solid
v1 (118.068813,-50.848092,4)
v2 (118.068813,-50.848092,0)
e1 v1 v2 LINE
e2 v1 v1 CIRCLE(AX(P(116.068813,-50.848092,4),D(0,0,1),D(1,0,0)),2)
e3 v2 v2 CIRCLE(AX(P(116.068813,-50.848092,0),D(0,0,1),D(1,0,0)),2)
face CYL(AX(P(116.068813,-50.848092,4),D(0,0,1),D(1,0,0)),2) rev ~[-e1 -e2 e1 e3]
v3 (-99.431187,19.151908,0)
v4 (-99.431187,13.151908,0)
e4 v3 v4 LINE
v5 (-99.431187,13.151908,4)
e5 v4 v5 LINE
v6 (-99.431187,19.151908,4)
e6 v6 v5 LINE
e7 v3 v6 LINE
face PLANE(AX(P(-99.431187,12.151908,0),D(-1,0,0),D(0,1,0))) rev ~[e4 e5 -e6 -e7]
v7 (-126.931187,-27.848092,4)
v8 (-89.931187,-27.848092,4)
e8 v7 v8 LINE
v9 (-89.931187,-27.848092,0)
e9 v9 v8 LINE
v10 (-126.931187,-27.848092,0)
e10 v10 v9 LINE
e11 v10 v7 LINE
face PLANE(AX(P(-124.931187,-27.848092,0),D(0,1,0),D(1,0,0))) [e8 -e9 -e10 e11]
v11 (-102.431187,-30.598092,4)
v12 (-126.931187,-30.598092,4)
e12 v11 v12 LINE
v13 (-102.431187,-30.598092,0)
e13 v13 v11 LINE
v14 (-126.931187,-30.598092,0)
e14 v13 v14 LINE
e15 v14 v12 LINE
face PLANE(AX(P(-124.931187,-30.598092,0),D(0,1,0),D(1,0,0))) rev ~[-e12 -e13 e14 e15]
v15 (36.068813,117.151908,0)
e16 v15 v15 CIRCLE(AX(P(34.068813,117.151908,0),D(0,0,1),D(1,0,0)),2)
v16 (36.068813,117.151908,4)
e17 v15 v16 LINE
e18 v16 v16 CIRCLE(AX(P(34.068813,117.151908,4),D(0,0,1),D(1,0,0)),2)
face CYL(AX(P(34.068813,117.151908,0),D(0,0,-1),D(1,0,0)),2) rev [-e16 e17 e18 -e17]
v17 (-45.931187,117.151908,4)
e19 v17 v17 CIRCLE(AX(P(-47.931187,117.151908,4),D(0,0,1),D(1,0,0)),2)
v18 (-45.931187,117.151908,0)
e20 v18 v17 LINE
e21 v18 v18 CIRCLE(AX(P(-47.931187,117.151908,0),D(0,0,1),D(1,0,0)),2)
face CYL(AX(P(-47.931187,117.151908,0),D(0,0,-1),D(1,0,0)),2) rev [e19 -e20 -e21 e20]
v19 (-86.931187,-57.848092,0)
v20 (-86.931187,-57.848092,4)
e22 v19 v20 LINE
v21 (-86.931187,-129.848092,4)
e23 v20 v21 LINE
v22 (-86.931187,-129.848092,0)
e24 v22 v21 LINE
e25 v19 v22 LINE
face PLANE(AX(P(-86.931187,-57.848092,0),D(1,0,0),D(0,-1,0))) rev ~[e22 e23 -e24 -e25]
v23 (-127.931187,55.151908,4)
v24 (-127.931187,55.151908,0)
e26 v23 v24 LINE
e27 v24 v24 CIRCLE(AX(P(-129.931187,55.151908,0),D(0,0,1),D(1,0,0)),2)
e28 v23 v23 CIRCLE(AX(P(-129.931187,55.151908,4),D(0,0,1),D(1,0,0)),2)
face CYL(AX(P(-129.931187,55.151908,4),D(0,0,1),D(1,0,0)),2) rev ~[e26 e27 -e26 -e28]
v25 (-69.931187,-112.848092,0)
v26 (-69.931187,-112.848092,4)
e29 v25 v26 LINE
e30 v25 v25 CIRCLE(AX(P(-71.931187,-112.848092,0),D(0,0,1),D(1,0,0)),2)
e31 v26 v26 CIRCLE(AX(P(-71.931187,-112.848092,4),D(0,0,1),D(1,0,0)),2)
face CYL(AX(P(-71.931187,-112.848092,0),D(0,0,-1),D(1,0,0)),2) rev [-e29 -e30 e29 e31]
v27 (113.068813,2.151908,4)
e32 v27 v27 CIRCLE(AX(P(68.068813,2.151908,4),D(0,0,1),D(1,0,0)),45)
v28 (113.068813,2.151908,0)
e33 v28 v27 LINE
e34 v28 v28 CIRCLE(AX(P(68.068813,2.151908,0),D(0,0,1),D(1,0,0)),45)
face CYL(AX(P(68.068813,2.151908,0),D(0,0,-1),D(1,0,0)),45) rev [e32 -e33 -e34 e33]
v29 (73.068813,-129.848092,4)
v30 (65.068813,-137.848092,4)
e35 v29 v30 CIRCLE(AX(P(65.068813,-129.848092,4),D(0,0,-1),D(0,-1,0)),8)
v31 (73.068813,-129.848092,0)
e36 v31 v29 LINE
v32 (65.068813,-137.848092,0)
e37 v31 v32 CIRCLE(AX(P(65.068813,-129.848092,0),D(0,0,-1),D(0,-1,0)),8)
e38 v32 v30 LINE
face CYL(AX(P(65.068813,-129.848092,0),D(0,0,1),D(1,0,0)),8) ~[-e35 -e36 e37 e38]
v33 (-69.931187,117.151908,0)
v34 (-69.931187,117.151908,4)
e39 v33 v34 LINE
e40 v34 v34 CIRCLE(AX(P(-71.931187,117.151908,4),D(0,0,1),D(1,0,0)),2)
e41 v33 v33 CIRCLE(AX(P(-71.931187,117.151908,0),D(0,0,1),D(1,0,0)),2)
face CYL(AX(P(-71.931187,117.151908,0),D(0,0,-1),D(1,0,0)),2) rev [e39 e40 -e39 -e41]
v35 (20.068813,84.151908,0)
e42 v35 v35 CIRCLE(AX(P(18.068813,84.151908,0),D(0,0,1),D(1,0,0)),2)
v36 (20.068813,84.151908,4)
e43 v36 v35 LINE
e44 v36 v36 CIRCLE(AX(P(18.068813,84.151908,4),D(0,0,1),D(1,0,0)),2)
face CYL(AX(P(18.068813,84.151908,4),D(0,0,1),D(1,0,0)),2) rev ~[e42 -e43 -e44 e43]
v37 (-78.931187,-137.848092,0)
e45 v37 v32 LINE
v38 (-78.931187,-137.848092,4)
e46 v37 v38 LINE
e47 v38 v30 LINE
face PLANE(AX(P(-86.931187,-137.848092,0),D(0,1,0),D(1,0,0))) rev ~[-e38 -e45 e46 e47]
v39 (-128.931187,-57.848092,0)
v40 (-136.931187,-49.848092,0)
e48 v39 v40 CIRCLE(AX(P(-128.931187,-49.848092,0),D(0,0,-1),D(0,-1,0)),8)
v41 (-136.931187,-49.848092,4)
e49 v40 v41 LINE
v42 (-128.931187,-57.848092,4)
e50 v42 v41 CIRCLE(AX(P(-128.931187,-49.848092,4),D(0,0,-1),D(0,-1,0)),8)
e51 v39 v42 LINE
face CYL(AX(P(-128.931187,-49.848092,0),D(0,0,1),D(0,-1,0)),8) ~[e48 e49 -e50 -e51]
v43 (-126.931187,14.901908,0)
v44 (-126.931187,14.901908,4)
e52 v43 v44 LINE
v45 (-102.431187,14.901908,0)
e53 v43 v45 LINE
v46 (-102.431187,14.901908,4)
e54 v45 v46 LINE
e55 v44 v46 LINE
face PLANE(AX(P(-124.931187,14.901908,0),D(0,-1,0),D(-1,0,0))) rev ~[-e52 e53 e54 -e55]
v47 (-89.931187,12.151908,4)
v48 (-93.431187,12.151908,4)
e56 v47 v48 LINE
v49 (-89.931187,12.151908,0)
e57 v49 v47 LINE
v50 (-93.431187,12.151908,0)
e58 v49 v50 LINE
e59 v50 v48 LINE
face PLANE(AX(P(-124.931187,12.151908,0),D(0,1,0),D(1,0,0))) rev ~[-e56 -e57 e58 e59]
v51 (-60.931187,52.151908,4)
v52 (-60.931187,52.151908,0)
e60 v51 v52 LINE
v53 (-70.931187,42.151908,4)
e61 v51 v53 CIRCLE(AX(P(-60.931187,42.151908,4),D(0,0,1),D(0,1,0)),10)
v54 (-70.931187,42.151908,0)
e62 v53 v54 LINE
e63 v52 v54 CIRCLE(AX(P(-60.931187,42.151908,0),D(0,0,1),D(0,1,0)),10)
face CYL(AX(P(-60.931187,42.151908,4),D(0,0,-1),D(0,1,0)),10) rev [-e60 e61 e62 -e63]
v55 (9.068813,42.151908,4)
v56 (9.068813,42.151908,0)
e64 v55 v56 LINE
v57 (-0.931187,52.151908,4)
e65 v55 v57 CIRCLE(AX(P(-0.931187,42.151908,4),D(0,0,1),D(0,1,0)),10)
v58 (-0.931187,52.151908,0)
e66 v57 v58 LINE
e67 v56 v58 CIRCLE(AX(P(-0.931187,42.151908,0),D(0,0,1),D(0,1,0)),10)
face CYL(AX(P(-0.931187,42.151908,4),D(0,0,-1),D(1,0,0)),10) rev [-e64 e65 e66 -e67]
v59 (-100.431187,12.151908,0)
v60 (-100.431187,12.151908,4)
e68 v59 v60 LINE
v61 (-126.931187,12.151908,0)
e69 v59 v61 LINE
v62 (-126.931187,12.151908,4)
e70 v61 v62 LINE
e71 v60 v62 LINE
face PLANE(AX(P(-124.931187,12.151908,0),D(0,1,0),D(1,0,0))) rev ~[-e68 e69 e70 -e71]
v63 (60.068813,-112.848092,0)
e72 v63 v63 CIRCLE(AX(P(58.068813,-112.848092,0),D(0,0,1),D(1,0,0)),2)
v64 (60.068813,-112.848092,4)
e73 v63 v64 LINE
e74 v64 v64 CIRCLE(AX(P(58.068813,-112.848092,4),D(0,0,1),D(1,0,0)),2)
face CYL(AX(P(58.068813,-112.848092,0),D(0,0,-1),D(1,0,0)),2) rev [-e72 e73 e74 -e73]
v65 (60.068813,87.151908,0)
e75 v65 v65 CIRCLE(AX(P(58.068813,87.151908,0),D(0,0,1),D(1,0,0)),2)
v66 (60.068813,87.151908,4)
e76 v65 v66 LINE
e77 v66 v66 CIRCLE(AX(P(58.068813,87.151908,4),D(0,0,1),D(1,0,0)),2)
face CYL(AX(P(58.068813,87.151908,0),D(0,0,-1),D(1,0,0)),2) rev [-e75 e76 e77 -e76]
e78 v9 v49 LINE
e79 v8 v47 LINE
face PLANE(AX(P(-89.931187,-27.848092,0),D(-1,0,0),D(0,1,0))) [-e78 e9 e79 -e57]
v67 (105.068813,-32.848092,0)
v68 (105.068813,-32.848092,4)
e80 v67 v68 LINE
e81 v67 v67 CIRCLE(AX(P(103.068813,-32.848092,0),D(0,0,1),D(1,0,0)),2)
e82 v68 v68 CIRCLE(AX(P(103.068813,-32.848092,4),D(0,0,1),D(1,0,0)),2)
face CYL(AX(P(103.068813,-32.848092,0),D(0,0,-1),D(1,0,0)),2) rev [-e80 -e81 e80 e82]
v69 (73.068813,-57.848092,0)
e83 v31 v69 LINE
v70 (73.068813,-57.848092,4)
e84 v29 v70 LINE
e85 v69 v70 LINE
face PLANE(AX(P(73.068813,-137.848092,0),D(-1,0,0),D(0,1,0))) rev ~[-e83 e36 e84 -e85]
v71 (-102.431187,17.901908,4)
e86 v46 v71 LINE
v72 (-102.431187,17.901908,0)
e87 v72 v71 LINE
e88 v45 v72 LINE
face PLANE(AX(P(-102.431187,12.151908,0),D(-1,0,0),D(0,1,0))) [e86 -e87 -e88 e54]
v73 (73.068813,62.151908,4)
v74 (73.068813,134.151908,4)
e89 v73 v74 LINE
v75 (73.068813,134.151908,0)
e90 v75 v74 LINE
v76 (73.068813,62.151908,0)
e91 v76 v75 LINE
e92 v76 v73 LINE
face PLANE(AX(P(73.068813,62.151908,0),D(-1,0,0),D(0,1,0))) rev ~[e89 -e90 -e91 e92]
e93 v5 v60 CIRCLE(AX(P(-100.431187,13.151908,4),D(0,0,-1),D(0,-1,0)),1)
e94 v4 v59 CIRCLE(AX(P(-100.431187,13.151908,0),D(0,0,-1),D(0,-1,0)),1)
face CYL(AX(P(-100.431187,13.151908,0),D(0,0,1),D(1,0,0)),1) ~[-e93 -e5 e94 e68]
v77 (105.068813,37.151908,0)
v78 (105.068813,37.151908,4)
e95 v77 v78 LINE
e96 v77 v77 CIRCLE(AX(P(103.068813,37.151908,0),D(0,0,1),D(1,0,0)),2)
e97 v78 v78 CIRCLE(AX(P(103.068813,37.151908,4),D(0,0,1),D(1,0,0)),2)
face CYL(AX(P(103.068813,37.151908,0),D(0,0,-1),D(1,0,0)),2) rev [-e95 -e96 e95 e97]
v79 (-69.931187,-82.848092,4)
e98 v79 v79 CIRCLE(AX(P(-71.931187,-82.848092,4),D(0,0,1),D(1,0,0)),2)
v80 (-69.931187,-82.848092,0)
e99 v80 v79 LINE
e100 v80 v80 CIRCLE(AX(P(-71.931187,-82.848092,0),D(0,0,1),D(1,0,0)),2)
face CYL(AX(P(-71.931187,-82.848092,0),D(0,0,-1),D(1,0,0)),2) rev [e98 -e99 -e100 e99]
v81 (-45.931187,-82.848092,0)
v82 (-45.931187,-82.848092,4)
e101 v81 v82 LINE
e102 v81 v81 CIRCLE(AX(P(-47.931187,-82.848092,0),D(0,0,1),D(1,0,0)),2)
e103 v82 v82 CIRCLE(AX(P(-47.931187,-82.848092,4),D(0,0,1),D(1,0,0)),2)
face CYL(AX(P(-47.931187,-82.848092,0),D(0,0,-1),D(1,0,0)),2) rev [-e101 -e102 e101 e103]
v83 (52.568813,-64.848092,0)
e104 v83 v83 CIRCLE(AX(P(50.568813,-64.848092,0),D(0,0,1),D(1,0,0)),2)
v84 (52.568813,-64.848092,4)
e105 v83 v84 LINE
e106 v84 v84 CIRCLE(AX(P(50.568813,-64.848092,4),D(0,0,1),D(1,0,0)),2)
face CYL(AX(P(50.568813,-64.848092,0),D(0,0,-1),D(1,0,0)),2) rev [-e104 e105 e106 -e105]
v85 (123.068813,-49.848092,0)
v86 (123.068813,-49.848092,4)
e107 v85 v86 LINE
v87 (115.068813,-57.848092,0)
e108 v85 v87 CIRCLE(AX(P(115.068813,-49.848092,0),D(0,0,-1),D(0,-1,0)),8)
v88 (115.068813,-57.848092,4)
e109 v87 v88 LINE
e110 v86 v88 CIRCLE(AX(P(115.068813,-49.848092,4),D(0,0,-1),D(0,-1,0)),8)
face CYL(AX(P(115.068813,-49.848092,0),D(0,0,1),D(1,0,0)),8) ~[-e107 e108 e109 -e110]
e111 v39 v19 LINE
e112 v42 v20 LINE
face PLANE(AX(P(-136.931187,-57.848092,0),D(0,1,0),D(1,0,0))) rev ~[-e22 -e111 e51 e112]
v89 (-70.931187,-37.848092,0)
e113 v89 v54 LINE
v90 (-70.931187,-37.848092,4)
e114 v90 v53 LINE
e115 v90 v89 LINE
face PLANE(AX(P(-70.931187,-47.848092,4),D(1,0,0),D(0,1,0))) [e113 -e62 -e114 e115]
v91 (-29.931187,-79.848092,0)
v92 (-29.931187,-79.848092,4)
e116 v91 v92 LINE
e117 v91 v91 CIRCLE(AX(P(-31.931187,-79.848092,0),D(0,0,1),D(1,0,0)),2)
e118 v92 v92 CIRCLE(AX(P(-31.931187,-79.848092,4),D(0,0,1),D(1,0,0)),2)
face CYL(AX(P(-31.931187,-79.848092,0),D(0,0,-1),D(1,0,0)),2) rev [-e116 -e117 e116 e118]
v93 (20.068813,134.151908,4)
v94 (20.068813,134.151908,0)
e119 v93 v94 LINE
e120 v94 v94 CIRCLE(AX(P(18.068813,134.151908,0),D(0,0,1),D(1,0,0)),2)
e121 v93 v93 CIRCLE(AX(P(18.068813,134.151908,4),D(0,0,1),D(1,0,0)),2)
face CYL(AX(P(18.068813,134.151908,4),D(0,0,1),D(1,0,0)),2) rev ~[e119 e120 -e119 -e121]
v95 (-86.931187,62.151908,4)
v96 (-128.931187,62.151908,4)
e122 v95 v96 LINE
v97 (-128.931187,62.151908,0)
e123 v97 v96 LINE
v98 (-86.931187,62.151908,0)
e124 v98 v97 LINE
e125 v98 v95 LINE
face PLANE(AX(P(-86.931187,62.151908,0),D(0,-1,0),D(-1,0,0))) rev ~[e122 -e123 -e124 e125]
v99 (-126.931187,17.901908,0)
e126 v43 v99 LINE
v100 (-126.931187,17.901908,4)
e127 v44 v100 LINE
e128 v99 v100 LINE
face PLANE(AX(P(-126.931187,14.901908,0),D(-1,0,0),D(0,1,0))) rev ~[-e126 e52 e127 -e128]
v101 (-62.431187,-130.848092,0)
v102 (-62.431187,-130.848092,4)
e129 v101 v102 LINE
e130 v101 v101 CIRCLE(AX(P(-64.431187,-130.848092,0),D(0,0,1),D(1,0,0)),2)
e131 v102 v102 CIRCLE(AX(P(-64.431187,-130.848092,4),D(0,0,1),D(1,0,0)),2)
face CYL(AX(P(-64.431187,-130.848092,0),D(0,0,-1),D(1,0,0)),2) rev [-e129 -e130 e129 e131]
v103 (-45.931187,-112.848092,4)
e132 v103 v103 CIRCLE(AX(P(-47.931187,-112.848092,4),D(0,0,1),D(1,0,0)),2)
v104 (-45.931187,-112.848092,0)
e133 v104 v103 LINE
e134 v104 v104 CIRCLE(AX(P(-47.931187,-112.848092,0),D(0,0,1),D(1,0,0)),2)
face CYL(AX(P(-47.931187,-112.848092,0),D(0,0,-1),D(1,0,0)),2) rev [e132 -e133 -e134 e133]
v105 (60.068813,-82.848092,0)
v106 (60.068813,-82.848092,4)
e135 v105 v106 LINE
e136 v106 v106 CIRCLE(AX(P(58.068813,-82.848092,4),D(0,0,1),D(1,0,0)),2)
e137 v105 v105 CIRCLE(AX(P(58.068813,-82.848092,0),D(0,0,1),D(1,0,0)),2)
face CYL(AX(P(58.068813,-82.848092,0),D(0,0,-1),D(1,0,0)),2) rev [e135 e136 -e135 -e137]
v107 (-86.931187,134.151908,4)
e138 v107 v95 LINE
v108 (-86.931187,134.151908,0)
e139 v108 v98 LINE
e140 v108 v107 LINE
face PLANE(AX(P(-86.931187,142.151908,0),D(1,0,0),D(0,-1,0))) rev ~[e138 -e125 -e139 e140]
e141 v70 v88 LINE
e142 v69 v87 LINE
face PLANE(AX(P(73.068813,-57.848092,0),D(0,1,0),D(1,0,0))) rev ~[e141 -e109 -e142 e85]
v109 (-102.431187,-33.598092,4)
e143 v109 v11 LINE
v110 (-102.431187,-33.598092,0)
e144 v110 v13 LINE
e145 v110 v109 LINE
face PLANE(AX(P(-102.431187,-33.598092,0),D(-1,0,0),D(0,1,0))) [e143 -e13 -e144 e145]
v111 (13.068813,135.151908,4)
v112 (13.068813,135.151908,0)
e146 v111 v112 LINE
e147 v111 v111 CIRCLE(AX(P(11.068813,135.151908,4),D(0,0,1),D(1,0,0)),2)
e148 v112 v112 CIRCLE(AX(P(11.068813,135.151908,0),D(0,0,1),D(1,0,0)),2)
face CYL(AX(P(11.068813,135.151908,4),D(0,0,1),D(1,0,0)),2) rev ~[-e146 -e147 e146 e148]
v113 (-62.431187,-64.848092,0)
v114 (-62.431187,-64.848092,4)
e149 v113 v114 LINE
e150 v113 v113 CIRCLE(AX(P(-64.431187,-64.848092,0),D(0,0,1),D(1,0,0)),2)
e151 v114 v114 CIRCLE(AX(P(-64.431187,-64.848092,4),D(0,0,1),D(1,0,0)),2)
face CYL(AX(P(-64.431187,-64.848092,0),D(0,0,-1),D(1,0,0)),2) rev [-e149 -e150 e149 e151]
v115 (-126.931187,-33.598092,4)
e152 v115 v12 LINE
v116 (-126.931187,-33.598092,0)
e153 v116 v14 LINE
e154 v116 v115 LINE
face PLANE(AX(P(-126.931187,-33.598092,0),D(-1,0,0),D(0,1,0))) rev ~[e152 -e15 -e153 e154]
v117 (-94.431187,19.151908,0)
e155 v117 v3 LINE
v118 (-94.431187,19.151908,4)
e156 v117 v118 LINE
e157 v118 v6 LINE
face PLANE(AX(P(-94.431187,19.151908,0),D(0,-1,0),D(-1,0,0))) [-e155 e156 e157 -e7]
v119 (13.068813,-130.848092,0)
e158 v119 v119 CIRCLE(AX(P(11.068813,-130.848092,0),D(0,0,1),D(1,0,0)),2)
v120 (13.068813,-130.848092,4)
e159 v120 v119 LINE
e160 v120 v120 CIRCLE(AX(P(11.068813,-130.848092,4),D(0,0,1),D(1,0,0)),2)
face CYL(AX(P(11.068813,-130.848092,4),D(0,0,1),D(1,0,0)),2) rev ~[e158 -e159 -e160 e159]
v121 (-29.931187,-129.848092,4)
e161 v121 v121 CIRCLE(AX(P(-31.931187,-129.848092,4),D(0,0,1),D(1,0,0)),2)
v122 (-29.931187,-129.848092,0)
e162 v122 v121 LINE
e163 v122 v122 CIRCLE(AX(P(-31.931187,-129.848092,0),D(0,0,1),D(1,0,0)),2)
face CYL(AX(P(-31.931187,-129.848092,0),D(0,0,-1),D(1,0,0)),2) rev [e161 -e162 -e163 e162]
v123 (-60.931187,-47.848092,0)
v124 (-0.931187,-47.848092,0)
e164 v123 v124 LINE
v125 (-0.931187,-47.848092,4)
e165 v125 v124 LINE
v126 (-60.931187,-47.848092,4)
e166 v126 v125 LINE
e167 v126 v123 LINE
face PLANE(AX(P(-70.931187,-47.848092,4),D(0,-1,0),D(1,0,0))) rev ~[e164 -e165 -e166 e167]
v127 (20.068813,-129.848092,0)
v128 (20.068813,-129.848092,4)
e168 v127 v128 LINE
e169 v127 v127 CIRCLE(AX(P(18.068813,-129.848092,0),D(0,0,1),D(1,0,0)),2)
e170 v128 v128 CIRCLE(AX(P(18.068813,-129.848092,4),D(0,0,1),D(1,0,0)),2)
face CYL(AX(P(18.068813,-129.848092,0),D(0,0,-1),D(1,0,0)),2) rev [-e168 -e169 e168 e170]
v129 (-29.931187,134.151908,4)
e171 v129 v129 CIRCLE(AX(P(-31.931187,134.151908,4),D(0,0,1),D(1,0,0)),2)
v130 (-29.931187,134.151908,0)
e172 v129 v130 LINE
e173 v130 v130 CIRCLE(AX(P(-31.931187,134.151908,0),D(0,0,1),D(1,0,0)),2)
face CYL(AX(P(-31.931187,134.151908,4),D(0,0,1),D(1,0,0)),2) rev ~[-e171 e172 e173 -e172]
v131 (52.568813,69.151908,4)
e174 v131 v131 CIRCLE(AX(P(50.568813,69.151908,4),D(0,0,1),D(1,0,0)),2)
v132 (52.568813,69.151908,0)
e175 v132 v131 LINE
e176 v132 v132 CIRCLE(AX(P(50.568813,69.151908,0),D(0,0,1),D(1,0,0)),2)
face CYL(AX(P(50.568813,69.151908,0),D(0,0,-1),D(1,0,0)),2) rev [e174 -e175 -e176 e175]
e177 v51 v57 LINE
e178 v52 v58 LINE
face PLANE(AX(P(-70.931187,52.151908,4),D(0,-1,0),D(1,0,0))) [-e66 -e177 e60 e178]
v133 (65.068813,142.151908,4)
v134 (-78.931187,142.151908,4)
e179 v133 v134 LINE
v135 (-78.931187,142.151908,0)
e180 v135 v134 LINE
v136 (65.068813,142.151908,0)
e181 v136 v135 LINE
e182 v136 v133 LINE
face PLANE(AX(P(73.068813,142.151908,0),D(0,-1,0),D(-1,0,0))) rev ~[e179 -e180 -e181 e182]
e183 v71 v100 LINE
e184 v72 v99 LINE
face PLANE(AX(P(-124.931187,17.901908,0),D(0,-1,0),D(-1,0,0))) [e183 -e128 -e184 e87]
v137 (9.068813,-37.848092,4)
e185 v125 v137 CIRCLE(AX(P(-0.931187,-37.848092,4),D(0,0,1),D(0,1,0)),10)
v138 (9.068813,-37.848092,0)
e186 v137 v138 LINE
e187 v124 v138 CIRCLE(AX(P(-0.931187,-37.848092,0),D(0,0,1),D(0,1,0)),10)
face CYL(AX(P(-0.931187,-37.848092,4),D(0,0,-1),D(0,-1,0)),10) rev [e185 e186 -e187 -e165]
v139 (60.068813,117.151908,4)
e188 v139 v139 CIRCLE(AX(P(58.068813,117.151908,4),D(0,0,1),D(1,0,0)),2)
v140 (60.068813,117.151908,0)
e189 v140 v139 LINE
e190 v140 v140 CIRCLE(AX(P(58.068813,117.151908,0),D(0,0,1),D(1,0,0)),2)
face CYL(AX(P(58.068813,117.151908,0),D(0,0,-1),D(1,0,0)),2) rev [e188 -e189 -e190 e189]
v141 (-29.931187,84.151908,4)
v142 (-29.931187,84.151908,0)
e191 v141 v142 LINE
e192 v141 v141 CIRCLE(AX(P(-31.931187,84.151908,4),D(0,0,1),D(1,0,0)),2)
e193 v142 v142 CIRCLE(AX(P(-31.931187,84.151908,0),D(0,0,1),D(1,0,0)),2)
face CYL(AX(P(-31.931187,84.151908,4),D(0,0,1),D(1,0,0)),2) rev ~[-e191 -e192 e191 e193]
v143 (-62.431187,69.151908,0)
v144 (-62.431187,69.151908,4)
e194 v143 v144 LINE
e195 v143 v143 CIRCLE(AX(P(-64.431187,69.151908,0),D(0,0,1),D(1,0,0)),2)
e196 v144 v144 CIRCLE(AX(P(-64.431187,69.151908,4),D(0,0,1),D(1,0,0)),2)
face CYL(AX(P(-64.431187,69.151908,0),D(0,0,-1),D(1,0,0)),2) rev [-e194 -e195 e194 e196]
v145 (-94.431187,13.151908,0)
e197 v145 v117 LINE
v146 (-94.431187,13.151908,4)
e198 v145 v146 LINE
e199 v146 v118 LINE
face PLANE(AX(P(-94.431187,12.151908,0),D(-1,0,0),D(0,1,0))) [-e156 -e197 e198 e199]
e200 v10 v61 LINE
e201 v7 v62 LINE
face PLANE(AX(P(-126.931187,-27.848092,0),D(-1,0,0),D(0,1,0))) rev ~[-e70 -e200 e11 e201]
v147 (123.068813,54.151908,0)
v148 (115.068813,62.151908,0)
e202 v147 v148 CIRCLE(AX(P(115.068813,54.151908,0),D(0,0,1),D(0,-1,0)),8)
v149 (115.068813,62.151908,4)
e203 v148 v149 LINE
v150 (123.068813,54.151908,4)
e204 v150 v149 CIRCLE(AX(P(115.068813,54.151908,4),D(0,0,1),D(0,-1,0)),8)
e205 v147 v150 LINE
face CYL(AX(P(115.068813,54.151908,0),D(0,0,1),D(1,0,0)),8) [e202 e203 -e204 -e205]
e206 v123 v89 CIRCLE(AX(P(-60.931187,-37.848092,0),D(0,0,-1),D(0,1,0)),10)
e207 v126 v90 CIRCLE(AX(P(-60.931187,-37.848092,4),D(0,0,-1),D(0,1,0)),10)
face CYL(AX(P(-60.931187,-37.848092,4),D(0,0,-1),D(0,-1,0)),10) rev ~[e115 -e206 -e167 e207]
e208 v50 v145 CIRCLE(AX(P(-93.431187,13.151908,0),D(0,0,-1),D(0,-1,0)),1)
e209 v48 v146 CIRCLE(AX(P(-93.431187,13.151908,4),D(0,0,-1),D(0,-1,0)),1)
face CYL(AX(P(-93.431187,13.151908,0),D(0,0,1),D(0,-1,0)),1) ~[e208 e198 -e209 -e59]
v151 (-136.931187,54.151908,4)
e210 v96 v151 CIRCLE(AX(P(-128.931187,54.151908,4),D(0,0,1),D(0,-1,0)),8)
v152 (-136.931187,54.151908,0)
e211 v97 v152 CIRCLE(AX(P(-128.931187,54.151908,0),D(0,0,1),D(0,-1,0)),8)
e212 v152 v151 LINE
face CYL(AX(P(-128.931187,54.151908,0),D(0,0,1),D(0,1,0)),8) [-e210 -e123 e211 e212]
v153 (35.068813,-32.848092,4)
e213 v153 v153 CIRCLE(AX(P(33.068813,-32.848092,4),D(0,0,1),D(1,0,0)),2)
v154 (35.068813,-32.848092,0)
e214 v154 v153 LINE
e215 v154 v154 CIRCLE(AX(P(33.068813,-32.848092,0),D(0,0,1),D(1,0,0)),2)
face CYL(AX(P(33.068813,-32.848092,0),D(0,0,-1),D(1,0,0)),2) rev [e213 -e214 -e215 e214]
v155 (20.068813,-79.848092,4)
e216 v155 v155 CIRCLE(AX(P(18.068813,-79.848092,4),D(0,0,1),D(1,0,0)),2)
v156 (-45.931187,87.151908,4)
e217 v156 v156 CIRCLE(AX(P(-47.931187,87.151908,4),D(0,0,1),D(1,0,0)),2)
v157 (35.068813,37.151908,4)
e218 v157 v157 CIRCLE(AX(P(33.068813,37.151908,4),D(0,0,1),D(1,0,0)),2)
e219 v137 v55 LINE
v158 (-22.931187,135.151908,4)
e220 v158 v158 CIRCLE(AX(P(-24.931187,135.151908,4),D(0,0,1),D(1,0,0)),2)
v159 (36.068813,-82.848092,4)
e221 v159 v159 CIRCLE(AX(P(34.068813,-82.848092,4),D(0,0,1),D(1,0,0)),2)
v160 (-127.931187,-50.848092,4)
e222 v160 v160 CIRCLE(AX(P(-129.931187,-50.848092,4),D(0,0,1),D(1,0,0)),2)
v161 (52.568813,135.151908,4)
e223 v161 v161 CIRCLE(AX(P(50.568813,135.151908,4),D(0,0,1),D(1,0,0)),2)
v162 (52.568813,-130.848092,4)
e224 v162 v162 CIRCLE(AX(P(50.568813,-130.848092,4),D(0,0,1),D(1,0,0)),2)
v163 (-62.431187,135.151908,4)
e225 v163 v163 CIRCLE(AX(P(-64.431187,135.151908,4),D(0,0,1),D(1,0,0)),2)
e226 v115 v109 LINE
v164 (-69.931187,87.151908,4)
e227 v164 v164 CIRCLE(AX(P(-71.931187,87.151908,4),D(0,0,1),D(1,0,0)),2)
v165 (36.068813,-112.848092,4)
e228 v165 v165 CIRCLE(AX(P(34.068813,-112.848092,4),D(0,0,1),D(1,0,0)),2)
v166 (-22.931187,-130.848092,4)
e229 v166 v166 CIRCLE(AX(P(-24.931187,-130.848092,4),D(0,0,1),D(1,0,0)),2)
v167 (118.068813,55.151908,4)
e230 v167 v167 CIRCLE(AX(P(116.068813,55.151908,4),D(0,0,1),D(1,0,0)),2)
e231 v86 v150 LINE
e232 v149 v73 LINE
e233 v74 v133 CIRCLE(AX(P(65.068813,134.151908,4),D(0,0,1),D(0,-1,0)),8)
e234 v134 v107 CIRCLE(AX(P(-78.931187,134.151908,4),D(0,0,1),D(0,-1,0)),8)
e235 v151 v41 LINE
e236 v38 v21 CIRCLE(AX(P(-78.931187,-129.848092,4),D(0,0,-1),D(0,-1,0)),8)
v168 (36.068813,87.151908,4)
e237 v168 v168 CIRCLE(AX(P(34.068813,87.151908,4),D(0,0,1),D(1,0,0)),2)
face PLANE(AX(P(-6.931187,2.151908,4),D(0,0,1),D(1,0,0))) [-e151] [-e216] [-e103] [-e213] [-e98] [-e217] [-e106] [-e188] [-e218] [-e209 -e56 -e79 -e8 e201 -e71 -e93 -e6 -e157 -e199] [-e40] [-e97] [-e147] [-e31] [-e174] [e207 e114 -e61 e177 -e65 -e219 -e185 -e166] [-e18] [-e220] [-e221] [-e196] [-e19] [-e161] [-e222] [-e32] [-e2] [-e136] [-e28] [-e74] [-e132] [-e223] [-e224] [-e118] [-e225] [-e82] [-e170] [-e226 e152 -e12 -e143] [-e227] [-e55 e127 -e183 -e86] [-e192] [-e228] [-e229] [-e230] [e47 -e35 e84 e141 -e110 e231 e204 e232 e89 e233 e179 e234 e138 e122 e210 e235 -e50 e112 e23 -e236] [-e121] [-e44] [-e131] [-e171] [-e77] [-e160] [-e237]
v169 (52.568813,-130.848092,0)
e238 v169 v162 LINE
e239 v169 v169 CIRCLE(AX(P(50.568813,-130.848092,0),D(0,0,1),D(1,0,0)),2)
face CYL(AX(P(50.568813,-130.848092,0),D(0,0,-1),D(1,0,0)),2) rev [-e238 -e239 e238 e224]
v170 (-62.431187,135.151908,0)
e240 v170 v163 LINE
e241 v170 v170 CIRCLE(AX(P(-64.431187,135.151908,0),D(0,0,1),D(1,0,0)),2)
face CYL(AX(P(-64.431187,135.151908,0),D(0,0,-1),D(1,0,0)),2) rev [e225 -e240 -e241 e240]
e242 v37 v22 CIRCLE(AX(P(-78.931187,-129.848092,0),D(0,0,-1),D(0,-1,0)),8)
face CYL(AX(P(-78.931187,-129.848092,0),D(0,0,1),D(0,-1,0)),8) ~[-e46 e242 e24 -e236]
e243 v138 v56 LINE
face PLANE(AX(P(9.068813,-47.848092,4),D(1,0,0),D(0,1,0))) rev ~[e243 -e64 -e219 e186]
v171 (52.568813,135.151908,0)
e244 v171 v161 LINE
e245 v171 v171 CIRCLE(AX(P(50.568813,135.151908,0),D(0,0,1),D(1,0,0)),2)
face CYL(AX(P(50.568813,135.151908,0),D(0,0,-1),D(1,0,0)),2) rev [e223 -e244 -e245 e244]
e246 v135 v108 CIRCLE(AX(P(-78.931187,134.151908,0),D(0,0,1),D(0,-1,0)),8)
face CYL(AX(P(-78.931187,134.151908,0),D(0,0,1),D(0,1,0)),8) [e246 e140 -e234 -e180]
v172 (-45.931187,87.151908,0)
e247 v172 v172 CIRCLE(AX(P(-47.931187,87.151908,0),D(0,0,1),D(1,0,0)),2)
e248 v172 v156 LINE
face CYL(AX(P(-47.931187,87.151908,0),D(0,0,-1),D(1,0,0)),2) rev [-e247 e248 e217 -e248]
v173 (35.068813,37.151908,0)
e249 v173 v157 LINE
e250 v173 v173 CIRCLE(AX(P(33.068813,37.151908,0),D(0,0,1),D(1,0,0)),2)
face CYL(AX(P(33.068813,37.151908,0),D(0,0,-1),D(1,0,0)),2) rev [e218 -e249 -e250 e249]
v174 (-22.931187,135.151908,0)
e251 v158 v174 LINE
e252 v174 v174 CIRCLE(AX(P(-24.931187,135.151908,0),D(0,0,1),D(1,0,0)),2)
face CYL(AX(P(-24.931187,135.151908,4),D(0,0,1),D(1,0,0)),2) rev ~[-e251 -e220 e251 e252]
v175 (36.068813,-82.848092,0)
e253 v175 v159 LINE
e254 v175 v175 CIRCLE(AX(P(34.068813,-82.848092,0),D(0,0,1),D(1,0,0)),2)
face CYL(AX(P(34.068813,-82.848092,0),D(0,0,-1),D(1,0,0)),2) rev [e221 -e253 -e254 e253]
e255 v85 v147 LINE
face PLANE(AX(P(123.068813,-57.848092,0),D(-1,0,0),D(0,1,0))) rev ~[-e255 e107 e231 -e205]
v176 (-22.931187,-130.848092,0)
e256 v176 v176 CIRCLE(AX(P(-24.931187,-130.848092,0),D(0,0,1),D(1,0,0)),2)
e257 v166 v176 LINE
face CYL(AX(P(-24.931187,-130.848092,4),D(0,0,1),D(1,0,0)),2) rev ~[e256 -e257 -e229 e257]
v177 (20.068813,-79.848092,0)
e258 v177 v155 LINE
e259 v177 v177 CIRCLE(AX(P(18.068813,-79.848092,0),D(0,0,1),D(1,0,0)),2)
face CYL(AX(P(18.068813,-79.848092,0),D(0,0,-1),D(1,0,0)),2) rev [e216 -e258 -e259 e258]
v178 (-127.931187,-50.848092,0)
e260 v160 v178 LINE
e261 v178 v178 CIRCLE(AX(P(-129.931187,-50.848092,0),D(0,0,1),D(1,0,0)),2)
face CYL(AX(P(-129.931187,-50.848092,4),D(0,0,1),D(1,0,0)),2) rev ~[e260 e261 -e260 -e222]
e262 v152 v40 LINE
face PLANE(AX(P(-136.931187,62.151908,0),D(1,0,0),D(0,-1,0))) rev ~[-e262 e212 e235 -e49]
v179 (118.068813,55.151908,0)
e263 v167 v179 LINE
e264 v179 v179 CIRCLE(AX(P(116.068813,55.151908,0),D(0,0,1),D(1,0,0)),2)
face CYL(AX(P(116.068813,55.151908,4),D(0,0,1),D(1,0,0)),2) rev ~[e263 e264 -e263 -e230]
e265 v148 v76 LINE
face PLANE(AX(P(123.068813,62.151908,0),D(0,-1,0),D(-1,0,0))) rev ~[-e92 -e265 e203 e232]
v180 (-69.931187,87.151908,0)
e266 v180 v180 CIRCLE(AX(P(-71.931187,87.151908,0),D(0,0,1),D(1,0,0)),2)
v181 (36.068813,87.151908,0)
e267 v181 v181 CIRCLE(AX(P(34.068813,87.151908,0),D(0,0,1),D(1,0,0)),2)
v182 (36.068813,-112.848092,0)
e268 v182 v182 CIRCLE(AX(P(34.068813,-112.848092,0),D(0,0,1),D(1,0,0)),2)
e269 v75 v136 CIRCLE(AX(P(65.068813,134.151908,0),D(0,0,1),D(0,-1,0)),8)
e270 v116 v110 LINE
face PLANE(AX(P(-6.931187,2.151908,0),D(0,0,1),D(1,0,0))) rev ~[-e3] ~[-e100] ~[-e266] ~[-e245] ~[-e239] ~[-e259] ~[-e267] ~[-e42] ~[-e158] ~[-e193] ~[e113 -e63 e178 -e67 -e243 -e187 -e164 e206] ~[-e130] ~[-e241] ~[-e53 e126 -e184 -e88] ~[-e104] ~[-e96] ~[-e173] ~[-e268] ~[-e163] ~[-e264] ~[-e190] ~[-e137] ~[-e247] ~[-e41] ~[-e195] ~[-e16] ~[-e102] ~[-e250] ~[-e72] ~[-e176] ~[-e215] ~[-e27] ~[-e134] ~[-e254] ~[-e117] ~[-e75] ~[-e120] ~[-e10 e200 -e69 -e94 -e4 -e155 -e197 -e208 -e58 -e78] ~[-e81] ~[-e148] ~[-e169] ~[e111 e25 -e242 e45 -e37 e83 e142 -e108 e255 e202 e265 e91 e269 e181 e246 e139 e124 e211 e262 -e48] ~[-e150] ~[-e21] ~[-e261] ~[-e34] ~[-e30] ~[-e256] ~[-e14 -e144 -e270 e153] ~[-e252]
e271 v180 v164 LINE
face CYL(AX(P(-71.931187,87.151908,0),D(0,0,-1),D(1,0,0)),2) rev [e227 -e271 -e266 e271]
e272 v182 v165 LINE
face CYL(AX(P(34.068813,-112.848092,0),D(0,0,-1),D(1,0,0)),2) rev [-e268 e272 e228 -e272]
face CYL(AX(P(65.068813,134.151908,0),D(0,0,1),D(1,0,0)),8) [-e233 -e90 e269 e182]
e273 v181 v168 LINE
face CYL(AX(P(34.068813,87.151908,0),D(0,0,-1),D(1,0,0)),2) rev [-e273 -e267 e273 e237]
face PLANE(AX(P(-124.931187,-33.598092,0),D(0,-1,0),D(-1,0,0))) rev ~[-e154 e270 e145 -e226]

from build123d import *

# Parameters (mm, degrees)
SKETCH_1_R          = 2
SKETCH_1_W          = 35
SKETCH_1_H          = 40
SKETCH_1_H_2        = 3
SKETCH_1_R_2        = 45
EXTRUDE_3_DEPTH     = 4
FILLET_1_R          = 8
SKETCH_4_R          = 2
CUT_EXTRUDE_3_DEPTH = 4
SKETCH_6_R          = 2
CUT_EXTRUDE_5_DEPTH = 10
SKETCH_7_W          = 80
SKETCH_7_H          = 100
CUT_EXTRUDE_6_DEPTH = 10
FILLET_2_R          = 10
SKETCH_8_W          = 3
SKETCH_8_H          = 7
EXTRUDE_5_DEPTH     = 4
SKETCH_8_4_W        = 5
SKETCH_8_4_H        = 7
CUT_EXTRUDE_7_DEPTH = 4
SKETCH_9_W          = 2
SKETCH_9_H          = 3
SKETCH_9_H_2        = 40
CUT_EXTRUDE_8_DEPTH = 4
FILLET_3_R          = 1


with BuildPart() as part:
    # 草图1 → 凸台-拉伸3 (new body)
    with BuildSketch(Plane.XY):
        Polygon((123.0688133, -57.848092329), (123.0688133, 62.151907671), (73.0688133, 62.151907671), (73.0688133, 142.151907671), (-86.9311867, 142.151907671), (-86.9311867, 62.151907671), (-136.9311867, 62.151907671), (-136.9311867, -57.848092329), (-86.9311867, -57.848092329), (-86.9311867, -137.848092329), (73.0688133, -137.848092329), (73.0688133, -57.848092329), align=None)
        with Locations((-71.9311867, -112.848092329)):
            Circle(SKETCH_1_R, mode=Mode.SUBTRACT)
        with Locations((-71.9311867, -82.848092329)):
            Circle(SKETCH_1_R, mode=Mode.SUBTRACT)
        with Locations((-107.4311867, -7.848092329)):
            Rectangle(SKETCH_1_W, SKETCH_1_H, mode=Mode.SUBTRACT)
        with Locations((-107.4311867, -32.098092329)):
            Rectangle(SKETCH_1_W, SKETCH_1_H_2, mode=Mode.SUBTRACT)
        with Locations((68.0688133, 2.151907671)):
            Circle(SKETCH_1_R_2, mode=Mode.SUBTRACT)
        with Locations((33.0688133, -32.848092329)):
            Circle(SKETCH_1_R, mode=Mode.SUBTRACT)
        with Locations((103.0688133, -32.848092329)):
            Circle(SKETCH_1_R, mode=Mode.SUBTRACT)
        with Locations((-64.4311867, -64.848092329)):
            Circle(SKETCH_1_R, mode=Mode.SUBTRACT)
        with Locations((-64.4311867, -130.848092329)):
            Circle(SKETCH_1_R, mode=Mode.SUBTRACT)
        with Locations((-31.9311867, -129.848092329)):
            Circle(SKETCH_1_R, mode=Mode.SUBTRACT)
        with Locations((18.0688133, -129.848092329)):
            Circle(SKETCH_1_R, mode=Mode.SUBTRACT)
        with Locations((50.5688133, -130.848092329)):
            Circle(SKETCH_1_R, mode=Mode.SUBTRACT)
        with Locations((58.0688133, -112.848092329)):
            Circle(SKETCH_1_R, mode=Mode.SUBTRACT)
        with Locations((58.0688133, -82.848092329)):
            Circle(SKETCH_1_R, mode=Mode.SUBTRACT)
        with Locations((50.5688133, -64.848092329)):
            Circle(SKETCH_1_R, mode=Mode.SUBTRACT)
        with Locations((-47.9311867, -82.848092329)):
            Circle(SKETCH_1_R, mode=Mode.SUBTRACT)
        with Locations((-47.9311867, -112.848092329)):
            Circle(SKETCH_1_R, mode=Mode.SUBTRACT)
        with Locations((58.0688133, 117.151907671)):
            Circle(SKETCH_1_R, mode=Mode.SUBTRACT)
        with Locations((103.0688133, 37.151907671)):
            Circle(SKETCH_1_R, mode=Mode.SUBTRACT)
        with Locations((33.0688133, 37.151907671)):
            Circle(SKETCH_1_R, mode=Mode.SUBTRACT)
        with Locations((-107.4311867, 16.401907671)):
            Rectangle(SKETCH_1_W, SKETCH_1_H_2, mode=Mode.SUBTRACT)
        with Locations((50.5688133, 135.151907671)):
            Circle(SKETCH_1_R, mode=Mode.SUBTRACT)
        with Locations((-64.4311867, 135.151907671)):
            Circle(SKETCH_1_R, mode=Mode.SUBTRACT)
        with Locations((-71.9311867, 117.151907671)):
            Circle(SKETCH_1_R, mode=Mode.SUBTRACT)
        with Locations((-71.9311867, 87.151907671)):
            Circle(SKETCH_1_R, mode=Mode.SUBTRACT)
        with Locations((-64.4311867, 69.151907671)):
            Circle(SKETCH_1_R, mode=Mode.SUBTRACT)
        with Locations((50.5688133, 69.151907671)):
            Circle(SKETCH_1_R, mode=Mode.SUBTRACT)
        with Locations((58.0688133, 87.151907671)):
            Circle(SKETCH_1_R, mode=Mode.SUBTRACT)
        with Locations((34.0688133, -82.848092329)):
            Circle(SKETCH_1_R, mode=Mode.SUBTRACT)
        with Locations((34.0688133, -112.848092329)):
            Circle(SKETCH_1_R, mode=Mode.SUBTRACT)
        with Locations((18.0688133, -79.848092329)):
            Circle(SKETCH_1_R, mode=Mode.SUBTRACT)
        with Locations((-31.9311867, -79.848092329)):
            Circle(SKETCH_1_R, mode=Mode.SUBTRACT)
        with Locations((34.0688133, 117.151907671)):
            Circle(SKETCH_1_R, mode=Mode.SUBTRACT)
        with Locations((34.0688133, 87.151907671)):
            Circle(SKETCH_1_R, mode=Mode.SUBTRACT)
        with Locations((-47.9311867, 87.151907671)):
            Circle(SKETCH_1_R, mode=Mode.SUBTRACT)
        with Locations((-47.9311867, 117.151907671)):
            Circle(SKETCH_1_R, mode=Mode.SUBTRACT)
    extrude(amount=EXTRUDE_3_DEPTH)

    # 圆角1
    fillet_1_edges = [part.edges().sort_by_distance(p)[0] for p in [
        (-136.9311867, -57.848092329, 2),
        (-86.9311867, -137.848092329, 2),
        (73.0688133, -137.848092329, 2),
        (123.0688133, -57.848092329, 2),
        (123.0688133, 62.151907671, 2),
        (73.0688133, 142.151907671, 2),
        (-86.9311867, 142.151907671, 2),
        (-136.9311867, 62.151907671, 2),
    ]]
    fillet(fillet_1_edges, radius=FILLET_1_R)

    # 草图4 → 切除-拉伸3 (cut)
    with BuildSketch(Plane.XY.offset(4)):
        with Locations((-129.9311867, 55.151907671)):
            Circle(SKETCH_4_R)
        with Locations((-129.9311867, -50.848092329)):
            Circle(SKETCH_4_R)
        with Locations((116.0688133, 55.151907671)):
            Circle(SKETCH_4_R)
        with Locations((116.0688133, -50.848092329)):
            Circle(SKETCH_4_R)
        with Locations((-24.9311867, 135.151907671)):
            Circle(SKETCH_4_R)
        with Locations((11.0688133, 135.151907671)):
            Circle(SKETCH_4_R)
        with Locations((-24.9311867, -130.848092329)):
            Circle(SKETCH_4_R)
        with Locations((11.0688133, -130.848092329)):
            Circle(SKETCH_4_R)
    extrude(amount=-CUT_EXTRUDE_3_DEPTH, mode=Mode.SUBTRACT)

    # 草图6 → 切除-拉伸5 (cut)
    with BuildSketch(Plane.XY.offset(4)):
        with Locations((-31.9311867, 134.151907671)):
            Circle(SKETCH_6_R)
        with Locations((18.0688133, 134.151907671)):
            Circle(SKETCH_6_R)
        with Locations((-31.9311867, 84.151907671)):
            Circle(SKETCH_6_R)
        with Locations((18.0688133, 84.151907671)):
            Circle(SKETCH_6_R)
    extrude(amount=-CUT_EXTRUDE_5_DEPTH, mode=Mode.SUBTRACT)

    # 草图7 → 切除-拉伸6 (cut)
    with BuildSketch(Plane.XY.offset(4)):
        with Locations((-30.9311867, 2.151907671)):
            Rectangle(SKETCH_7_W, SKETCH_7_H)
    extrude(amount=-CUT_EXTRUDE_6_DEPTH, mode=Mode.SUBTRACT)

    # 圆角2
    fillet_2_edges = [part.edges().sort_by_distance(p)[0] for p in [
        (9.0688133, 52.151907671, 2),
        (9.0688133, -47.848092329, 2),
        (-70.9311867, -47.848092329, 2),
        (-70.9311867, 52.151907671, 2),
    ]]
    fillet(fillet_2_edges, radius=FILLET_2_R)

    # 草图8 → 凸台-拉伸5 (add)
    with BuildSketch(Plane(origin=(0, 0, 0), x_dir=(-1, 0, 0), z_dir=(0, 0, -1))):
        Polygon((86.9311867, -33.598092329), (102.4311867, -33.598092329), (102.4311867, -27.848092329), (89.9311867, -27.848092329), (89.9311867, 12.151907671), (94.4311867, 12.151907671), (94.4311867, 19.151907671), (86.9311867, 19.151907671), align=None)
        with Locations((100.9311867, 15.651907671)):
            Rectangle(SKETCH_8_W, SKETCH_8_H)
    extrude(amount=-EXTRUDE_5_DEPTH)

    # 草图8<4> → 切除-拉伸7 (cut)
    with BuildSketch(Plane(origin=(0, 0, 0), x_dir=(-1, 0, 0), z_dir=(0, 0, -1))):
        with Locations((96.9311867, 15.651907671)):
            Rectangle(SKETCH_8_4_W, SKETCH_8_4_H)
    extrude(amount=-CUT_EXTRUDE_7_DEPTH, mode=Mode.SUBTRACT)

    # 草图9 → 切除-拉伸8 (cut)
    with BuildSketch(Plane(origin=(0, 0, 0), x_dir=(-1, 0, 0), z_dir=(0, 0, -1))):
        with Locations((125.9311867, 16.401907671)):
            Rectangle(SKETCH_9_W, SKETCH_9_H)
        with Locations((125.9311867, -32.098092329)):
            Rectangle(SKETCH_9_W, SKETCH_9_H)
        with Locations((125.9311867, -7.848092329)):
            Rectangle(SKETCH_9_W, SKETCH_9_H_2)
    extrude(amount=-CUT_EXTRUDE_8_DEPTH, mode=Mode.SUBTRACT)

    # 圆角3
    fillet_3_edges = [part.edges().sort_by_distance(p)[0] for p in [
        (-99.4311867, 12.151907671, 2),
        (-94.4311867, 12.151907671, 2),
    ]]
    fillet(fillet_3_edges, radius=FILLET_3_R)


solid = part.part
